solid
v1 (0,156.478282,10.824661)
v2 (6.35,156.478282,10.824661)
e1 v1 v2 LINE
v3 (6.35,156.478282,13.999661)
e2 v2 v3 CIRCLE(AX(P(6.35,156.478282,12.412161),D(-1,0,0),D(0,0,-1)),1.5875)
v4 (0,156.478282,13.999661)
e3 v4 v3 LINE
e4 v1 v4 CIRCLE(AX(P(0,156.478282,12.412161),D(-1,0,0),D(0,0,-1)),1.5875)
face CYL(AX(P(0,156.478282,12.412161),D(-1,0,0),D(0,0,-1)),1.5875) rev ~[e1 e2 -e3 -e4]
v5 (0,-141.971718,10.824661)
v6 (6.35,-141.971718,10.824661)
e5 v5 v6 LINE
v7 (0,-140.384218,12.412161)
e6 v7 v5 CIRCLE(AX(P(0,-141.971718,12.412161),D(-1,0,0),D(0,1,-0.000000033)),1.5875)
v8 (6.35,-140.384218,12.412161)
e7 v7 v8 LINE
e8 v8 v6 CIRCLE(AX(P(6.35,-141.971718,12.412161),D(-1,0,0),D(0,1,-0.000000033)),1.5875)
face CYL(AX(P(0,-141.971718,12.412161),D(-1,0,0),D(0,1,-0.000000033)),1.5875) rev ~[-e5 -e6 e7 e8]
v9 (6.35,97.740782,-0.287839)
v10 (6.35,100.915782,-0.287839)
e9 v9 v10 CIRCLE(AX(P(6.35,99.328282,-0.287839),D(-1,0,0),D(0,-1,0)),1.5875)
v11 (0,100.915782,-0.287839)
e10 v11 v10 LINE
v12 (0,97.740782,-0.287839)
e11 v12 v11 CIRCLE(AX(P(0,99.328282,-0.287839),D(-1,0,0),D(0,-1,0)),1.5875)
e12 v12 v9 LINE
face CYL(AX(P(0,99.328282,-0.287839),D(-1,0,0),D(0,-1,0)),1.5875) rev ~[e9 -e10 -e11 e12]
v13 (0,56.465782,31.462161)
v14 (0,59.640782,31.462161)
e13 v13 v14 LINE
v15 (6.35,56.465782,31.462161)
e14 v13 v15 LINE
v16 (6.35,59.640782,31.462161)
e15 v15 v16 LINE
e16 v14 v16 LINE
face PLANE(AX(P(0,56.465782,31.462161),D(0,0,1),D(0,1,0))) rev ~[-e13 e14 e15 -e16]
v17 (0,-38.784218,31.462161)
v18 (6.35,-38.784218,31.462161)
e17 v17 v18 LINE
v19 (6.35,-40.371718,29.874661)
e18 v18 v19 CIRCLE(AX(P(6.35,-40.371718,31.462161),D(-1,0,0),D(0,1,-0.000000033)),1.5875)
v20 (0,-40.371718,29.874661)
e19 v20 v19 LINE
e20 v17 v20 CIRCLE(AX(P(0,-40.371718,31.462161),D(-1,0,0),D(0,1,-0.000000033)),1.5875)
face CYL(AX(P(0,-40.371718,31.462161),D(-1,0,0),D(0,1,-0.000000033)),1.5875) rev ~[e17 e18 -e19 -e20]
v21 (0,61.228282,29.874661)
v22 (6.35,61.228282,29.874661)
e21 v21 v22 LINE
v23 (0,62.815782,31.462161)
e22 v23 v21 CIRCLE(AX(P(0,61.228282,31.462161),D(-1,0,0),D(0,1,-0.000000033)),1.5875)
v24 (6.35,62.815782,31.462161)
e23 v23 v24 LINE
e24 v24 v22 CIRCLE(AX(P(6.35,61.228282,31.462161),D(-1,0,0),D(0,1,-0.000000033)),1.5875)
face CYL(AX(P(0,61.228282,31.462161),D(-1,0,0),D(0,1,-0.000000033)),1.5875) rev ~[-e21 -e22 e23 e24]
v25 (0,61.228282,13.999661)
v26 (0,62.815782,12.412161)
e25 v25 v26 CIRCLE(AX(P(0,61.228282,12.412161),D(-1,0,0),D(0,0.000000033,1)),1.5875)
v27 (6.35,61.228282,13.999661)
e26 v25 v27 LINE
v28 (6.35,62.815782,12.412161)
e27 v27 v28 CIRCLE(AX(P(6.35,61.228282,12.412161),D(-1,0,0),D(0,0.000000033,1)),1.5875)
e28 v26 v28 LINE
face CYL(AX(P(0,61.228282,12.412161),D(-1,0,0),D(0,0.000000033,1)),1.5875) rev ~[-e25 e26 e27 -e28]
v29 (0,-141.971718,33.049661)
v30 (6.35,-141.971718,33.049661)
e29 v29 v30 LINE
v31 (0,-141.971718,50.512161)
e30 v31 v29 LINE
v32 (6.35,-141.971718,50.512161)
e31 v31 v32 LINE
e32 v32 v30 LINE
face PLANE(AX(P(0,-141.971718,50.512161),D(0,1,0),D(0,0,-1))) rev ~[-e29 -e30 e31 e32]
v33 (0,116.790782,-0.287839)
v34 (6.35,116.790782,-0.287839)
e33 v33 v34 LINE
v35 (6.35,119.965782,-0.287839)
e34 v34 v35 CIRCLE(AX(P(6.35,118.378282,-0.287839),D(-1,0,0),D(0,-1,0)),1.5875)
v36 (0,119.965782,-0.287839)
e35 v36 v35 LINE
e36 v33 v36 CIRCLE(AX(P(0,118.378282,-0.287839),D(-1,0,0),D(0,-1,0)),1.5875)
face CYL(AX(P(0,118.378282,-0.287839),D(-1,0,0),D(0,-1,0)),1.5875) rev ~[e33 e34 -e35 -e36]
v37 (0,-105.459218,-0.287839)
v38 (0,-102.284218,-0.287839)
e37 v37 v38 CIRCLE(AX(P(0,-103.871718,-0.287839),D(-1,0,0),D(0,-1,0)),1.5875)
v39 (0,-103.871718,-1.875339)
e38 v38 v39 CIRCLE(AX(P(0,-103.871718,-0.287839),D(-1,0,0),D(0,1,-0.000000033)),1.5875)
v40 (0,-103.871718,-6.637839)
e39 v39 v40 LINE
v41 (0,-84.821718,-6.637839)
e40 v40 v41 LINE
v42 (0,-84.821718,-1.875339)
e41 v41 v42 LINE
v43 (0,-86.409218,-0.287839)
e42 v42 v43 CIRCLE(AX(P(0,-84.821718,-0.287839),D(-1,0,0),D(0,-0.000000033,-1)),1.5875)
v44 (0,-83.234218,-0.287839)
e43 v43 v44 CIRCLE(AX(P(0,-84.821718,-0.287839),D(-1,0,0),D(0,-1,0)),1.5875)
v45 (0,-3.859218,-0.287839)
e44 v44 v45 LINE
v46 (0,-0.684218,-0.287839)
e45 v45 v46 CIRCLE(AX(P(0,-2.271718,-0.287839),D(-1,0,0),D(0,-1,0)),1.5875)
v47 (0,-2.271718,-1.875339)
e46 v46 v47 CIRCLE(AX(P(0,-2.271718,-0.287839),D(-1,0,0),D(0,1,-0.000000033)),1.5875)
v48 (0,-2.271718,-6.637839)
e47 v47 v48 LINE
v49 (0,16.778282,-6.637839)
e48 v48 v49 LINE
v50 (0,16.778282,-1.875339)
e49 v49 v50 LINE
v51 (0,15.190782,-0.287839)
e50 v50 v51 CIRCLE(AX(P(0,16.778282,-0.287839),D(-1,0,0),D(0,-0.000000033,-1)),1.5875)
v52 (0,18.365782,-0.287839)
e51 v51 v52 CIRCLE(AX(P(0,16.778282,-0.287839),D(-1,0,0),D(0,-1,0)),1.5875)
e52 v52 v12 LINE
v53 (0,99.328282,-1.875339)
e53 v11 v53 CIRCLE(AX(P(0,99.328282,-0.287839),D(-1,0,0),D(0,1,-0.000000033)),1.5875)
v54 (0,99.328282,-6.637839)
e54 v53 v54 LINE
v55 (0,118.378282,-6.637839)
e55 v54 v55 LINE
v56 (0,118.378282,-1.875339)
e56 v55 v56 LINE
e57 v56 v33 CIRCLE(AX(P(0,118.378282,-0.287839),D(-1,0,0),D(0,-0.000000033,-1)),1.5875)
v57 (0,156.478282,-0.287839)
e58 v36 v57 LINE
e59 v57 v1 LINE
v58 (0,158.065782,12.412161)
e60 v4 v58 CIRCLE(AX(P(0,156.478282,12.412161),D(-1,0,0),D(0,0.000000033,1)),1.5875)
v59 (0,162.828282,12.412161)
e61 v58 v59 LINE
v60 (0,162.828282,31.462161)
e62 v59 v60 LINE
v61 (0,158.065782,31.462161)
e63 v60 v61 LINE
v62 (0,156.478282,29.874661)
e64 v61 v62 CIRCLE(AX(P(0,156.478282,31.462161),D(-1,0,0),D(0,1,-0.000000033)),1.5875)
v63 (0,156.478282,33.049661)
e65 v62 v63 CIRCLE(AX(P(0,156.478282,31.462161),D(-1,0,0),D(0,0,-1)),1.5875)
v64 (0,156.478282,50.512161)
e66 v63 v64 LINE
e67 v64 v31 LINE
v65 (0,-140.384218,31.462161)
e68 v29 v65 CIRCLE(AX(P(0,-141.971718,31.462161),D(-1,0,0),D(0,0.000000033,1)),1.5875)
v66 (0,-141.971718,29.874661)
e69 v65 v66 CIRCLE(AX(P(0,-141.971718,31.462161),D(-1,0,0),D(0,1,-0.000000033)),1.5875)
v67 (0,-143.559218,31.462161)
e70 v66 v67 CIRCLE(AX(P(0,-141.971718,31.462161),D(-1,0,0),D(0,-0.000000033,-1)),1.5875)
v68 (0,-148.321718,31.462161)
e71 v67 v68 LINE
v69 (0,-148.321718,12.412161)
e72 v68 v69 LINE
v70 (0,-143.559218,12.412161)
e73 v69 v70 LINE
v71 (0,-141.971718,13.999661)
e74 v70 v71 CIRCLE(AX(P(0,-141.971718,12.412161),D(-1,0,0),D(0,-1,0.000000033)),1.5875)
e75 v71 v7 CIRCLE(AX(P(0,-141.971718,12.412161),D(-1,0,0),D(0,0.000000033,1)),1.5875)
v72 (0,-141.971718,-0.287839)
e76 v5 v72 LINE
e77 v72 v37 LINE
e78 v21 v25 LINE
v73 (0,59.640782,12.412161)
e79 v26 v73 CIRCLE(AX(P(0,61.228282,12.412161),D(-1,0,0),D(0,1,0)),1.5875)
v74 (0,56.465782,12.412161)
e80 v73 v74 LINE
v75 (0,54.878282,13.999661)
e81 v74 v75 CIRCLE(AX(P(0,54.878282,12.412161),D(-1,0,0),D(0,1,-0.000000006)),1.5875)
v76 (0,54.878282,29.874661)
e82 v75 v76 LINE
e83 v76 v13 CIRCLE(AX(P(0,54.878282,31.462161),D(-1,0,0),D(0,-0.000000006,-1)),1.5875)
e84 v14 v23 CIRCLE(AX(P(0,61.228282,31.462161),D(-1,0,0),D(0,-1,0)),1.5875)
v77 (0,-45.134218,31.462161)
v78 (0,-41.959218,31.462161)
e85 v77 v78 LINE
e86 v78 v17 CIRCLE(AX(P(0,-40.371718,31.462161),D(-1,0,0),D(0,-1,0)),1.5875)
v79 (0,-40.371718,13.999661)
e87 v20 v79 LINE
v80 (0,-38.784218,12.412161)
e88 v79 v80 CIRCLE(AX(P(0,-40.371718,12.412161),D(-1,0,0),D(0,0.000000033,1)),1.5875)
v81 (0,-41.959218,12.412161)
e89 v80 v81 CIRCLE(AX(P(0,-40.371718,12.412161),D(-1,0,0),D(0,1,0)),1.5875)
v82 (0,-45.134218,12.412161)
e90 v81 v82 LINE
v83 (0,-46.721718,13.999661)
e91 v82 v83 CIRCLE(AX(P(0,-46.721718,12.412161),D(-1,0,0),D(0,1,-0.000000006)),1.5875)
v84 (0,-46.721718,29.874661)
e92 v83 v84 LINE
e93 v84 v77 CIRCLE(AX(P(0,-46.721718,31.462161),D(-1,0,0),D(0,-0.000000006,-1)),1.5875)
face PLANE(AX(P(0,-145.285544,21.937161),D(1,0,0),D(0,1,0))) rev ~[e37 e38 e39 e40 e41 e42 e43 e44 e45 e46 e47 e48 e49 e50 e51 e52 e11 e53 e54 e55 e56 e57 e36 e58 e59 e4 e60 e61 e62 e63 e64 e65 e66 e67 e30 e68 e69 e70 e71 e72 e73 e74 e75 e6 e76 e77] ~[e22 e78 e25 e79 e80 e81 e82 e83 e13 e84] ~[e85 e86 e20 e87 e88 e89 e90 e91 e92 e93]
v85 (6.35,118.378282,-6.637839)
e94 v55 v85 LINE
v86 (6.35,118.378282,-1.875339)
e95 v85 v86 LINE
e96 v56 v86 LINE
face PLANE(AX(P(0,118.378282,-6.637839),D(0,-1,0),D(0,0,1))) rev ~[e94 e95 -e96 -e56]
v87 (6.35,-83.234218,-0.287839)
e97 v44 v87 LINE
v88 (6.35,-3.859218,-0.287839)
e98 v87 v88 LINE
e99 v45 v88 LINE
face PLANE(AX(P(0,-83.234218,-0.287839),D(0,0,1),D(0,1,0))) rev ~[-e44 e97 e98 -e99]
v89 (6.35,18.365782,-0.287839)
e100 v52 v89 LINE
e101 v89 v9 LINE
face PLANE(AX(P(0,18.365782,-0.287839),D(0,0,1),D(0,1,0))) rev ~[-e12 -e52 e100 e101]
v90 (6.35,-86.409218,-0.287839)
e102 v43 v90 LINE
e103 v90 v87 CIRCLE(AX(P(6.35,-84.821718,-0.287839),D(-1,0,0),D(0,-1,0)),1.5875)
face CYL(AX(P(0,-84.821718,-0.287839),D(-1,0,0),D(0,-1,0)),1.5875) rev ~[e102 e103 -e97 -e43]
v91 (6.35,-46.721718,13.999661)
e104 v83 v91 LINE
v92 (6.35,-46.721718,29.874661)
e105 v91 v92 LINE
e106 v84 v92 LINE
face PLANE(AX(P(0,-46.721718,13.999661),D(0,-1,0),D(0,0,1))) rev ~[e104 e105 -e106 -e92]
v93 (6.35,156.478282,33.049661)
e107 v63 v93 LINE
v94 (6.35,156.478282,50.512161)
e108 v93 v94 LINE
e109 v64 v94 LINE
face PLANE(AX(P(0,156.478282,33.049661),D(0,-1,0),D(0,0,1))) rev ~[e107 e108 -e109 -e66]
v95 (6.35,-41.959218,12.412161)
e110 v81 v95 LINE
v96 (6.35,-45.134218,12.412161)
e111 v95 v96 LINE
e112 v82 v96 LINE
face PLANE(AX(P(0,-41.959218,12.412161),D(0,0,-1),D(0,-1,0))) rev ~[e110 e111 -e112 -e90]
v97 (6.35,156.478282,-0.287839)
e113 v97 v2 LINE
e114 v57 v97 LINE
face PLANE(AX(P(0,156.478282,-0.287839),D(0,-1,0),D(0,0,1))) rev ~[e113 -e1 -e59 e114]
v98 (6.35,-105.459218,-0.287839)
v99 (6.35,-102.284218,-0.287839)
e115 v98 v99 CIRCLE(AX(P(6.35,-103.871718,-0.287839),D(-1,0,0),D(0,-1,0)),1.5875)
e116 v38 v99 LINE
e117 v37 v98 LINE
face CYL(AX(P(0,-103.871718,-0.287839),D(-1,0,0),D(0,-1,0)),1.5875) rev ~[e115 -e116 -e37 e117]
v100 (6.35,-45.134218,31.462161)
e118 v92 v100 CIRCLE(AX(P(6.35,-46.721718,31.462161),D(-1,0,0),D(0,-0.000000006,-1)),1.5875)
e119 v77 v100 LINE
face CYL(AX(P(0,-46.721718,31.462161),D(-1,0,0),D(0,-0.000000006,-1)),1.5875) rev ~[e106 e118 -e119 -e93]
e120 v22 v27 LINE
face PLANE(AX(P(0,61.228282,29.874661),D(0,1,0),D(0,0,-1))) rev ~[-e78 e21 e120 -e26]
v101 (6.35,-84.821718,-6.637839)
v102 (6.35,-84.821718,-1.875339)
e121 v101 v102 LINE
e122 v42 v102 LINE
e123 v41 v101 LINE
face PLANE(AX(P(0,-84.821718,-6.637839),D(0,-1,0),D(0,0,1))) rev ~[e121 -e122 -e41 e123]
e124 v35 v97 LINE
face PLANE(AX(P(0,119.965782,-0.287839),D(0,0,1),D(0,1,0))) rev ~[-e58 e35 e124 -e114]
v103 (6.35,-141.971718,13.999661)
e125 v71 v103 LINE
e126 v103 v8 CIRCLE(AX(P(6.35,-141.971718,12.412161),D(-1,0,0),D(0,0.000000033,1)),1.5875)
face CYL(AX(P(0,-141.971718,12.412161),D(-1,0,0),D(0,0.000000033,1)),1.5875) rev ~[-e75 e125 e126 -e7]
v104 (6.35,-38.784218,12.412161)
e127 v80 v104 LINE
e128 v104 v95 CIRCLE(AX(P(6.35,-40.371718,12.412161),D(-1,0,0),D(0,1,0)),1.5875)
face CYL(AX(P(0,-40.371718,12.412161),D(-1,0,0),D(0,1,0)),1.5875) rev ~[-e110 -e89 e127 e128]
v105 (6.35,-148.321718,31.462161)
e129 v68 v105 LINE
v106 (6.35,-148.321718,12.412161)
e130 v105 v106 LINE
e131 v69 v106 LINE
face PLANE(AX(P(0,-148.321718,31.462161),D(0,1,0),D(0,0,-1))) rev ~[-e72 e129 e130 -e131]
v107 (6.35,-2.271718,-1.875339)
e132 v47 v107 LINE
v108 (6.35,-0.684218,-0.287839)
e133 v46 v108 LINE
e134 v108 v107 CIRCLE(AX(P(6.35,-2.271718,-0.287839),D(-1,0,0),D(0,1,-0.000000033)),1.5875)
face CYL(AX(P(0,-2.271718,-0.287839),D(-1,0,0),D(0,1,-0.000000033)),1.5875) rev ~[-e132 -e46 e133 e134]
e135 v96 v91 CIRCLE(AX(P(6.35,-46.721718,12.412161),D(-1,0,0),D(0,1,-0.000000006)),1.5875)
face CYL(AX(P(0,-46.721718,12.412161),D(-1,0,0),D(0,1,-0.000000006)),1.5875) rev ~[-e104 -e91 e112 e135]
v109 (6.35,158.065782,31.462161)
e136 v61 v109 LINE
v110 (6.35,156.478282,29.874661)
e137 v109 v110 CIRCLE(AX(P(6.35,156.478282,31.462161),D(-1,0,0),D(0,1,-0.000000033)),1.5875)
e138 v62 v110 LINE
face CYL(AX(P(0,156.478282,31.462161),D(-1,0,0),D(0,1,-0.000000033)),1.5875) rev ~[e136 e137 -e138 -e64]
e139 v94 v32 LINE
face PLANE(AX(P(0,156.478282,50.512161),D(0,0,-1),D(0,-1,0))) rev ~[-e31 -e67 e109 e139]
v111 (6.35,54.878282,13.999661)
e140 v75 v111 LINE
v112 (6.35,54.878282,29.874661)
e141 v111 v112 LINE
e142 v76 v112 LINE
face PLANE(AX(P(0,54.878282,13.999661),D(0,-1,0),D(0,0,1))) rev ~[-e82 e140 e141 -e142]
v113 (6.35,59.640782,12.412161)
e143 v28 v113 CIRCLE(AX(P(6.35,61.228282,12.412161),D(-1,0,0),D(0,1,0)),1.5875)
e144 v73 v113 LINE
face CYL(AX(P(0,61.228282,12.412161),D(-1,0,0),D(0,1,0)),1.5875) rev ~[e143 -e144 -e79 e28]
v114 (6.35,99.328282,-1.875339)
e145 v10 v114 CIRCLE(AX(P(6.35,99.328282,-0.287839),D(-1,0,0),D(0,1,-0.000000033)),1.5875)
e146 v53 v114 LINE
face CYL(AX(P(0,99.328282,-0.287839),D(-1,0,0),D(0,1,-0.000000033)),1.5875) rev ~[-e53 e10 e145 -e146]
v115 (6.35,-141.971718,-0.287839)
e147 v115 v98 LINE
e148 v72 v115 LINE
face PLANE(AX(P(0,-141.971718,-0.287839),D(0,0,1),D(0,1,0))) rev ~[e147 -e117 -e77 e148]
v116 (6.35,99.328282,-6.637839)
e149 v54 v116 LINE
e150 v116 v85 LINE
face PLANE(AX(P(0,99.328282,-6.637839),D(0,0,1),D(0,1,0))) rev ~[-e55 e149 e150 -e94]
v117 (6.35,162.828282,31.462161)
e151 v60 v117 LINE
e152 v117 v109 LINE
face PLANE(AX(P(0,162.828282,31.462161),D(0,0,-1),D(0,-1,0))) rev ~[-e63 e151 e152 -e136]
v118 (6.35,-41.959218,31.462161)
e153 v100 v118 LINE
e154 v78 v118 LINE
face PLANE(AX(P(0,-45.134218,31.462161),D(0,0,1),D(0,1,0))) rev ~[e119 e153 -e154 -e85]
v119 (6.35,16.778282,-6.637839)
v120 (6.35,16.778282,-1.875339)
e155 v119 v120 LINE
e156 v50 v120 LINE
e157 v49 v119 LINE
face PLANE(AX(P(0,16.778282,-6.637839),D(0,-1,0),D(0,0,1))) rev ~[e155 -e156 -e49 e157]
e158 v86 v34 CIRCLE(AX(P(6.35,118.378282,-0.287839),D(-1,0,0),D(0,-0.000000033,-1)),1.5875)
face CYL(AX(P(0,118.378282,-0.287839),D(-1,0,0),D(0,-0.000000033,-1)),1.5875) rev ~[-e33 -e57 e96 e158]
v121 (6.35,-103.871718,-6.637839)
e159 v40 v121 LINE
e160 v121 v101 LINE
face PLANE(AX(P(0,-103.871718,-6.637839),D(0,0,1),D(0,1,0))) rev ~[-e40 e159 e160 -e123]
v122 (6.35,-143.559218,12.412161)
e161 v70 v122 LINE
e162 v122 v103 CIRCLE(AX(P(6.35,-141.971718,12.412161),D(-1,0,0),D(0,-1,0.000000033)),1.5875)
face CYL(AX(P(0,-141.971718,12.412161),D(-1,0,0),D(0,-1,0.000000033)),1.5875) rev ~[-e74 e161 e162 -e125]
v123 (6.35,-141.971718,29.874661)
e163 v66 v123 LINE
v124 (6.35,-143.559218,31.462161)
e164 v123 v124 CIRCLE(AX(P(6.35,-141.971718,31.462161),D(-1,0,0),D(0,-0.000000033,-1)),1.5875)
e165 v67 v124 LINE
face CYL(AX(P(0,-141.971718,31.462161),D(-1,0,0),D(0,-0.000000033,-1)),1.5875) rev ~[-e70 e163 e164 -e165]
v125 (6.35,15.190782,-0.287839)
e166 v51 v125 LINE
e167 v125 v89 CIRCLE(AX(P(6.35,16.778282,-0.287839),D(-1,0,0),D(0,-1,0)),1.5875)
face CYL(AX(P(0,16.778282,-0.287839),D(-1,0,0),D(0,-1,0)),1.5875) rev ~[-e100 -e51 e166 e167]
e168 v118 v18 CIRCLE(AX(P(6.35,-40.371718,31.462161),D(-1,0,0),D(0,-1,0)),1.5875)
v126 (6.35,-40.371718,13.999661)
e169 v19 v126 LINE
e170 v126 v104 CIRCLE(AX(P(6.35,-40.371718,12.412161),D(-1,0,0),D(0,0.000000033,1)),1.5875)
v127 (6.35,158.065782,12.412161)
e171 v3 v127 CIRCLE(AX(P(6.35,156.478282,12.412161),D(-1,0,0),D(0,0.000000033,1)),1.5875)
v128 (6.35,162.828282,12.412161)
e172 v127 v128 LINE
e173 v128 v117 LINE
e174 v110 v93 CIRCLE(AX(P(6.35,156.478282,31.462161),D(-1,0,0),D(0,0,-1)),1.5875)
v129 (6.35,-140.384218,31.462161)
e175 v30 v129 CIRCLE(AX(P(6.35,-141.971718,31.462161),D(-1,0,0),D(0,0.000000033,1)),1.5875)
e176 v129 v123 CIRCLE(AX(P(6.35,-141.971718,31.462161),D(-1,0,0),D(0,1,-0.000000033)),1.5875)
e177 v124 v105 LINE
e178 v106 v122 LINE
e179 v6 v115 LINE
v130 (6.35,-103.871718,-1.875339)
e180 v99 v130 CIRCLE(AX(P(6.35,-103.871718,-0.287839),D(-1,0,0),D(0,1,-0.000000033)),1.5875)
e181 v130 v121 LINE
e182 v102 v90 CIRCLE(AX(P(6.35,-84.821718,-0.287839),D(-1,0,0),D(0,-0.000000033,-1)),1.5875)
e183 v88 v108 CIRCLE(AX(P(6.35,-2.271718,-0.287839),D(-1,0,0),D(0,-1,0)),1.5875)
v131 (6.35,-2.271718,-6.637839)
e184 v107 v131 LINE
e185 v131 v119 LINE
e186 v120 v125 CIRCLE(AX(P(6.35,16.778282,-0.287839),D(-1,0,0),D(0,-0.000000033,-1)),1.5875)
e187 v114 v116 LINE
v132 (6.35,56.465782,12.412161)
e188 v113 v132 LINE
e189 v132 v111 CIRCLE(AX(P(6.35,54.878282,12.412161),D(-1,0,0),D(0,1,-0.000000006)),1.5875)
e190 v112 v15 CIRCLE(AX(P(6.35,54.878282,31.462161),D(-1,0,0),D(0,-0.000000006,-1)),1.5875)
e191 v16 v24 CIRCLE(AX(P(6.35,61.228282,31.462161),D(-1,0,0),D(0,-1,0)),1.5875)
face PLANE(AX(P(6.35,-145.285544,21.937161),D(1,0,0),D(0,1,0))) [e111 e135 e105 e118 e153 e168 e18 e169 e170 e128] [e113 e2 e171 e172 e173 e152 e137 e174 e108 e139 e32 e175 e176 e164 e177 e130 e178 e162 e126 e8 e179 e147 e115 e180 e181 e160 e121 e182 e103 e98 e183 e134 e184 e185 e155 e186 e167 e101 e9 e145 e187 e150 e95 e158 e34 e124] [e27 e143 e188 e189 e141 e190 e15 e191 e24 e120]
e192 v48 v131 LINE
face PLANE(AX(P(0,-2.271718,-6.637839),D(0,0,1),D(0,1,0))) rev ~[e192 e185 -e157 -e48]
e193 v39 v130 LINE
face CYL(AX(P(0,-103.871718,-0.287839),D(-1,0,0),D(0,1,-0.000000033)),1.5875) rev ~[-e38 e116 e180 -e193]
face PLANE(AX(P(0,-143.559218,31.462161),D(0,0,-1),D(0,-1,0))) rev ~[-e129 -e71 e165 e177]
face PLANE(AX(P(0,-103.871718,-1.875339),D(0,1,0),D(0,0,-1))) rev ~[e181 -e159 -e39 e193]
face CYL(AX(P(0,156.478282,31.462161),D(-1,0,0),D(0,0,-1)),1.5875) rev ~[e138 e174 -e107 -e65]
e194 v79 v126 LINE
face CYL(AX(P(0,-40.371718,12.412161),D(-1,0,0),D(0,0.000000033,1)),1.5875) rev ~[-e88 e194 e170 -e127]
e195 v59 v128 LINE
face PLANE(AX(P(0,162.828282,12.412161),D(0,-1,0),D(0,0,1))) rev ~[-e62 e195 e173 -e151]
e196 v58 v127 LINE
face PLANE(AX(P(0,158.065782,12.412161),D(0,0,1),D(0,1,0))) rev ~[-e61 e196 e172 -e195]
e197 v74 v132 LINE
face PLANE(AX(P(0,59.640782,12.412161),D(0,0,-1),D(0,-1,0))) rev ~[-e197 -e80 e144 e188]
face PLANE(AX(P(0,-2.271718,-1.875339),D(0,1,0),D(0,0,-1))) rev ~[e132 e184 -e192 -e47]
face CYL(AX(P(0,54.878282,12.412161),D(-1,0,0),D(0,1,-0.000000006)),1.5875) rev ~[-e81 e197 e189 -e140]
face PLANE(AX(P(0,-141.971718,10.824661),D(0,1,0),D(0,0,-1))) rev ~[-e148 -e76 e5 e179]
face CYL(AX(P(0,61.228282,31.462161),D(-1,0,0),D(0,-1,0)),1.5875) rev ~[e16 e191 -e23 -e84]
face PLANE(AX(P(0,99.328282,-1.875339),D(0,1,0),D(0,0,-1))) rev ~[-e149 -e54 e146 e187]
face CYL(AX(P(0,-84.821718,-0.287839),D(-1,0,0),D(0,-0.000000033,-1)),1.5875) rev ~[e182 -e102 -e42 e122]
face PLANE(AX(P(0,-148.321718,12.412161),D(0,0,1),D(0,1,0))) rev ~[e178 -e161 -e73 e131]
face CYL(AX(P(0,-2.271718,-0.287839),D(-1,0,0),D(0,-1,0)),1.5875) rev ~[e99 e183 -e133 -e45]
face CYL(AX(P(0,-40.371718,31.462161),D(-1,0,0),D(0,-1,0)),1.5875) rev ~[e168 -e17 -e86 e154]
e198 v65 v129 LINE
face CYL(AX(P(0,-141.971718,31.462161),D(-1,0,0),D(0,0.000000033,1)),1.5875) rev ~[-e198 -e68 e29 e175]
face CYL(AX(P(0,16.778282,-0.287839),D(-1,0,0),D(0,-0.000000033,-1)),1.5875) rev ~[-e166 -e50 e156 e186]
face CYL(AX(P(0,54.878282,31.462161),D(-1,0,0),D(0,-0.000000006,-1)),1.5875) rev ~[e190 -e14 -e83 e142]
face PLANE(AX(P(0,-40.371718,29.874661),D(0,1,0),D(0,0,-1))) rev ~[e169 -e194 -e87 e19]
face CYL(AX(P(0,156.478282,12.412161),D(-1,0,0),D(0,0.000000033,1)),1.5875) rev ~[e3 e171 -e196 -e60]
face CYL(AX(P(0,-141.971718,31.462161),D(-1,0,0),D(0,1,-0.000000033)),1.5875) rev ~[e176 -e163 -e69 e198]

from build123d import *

# Parameters (mm, degrees)
F1_DEPTH = 6.35


with BuildPart() as f1:
    # F0 (on Right) → F1 (new body)
    with BuildSketch(Plane.YZ):
        with BuildLine():
            ThreePointArc((-141.971718, 29.874661), (-143.09425, 30.339629), (-143.559218, 31.462161))
            Line((-143.559218, 31.462161), (-148.321718, 31.462161))
            Line((-148.321718, 31.462161), (-148.321718, 12.412161))
            Line((-148.321718, 12.412161), (-143.559218, 12.412161))
            ThreePointArc((-143.559218, 12.412161), (-143.09425, 13.534693), (-141.971718, 13.999661))
            Line((-141.971718, 13.999661), (-141.971718, 29.874661))
        make_face()
        with BuildLine():
            Line((156.478282, 50.512161), (-141.971718, 50.512161))
            Line((-141.971718, 50.512161), (-141.971718, 33.049661))
            ThreePointArc((-141.971718, 33.049661), (-140.849186, 32.584693), (-140.384218, 31.462161))
            ThreePointArc((-140.384218, 31.462161), (-140.849186, 30.339629), (-141.971718, 29.874661))
            Line((-141.971718, 29.874661), (-141.971718, 13.999661))
            ThreePointArc((-141.971718, 13.999661), (-140.849186, 13.534693), (-140.384218, 12.412161))
            ThreePointArc((-140.384218, 12.412161), (-140.849186, 11.289629), (-141.971718, 10.824661))
            Line((-141.971718, 10.824661), (-141.971718, -0.287839))
            Line((-141.971718, -0.287839), (-105.459218, -0.287839))
            ThreePointArc((-105.459218, -0.287839), (-103.871718, 1.299661), (-102.284218, -0.287839))
            Line((-102.284218, -0.287839), (-86.409218, -0.287839))
            ThreePointArc((-86.409218, -0.287839), (-84.821718, 1.299661), (-83.234218, -0.287839))
            Line((-83.234218, -0.287839), (-3.859218, -0.287839))
            ThreePointArc((-3.859218, -0.287839), (-2.271718, 1.299661), (-0.684218, -0.287839))
            Line((-0.684218, -0.287839), (15.190782, -0.287839))
            ThreePointArc((15.190782, -0.287839), (16.778282, 1.299661), (18.365782, -0.287839))
            Line((18.365782, -0.287839), (97.740782, -0.287839))
            ThreePointArc((97.740782, -0.287839), (99.328282, 1.299661), (100.915782, -0.287839))
            Line((100.915782, -0.287839), (116.790782, -0.287839))
            ThreePointArc((116.790782, -0.287839), (118.378282, 1.299661), (119.965782, -0.287839))
            Line((119.965782, -0.287839), (156.478282, -0.287839))
            Line((156.478282, -0.287839), (156.478282, 10.824661))
            ThreePointArc((156.478282, 10.824661), (154.890782, 12.412161), (156.478282, 13.999661))
            Line((156.478282, 13.999661), (156.478282, 29.874661))
            ThreePointArc((156.478282, 29.874661), (154.890782, 31.462161), (156.478282, 33.049661))
            Line((156.478282, 33.049661), (156.478282, 50.512161))
        make_face()
        with BuildLine():
            ThreePointArc((-46.721718, 29.874661), (-47.84425, 32.584693), (-45.134218, 31.462161))
            Line((-45.134218, 31.462161), (-41.959218, 31.462161))
            ThreePointArc((-41.959218, 31.462161), (-40.371718, 33.049661), (-38.784218, 31.462161))
            ThreePointArc((-38.784218, 31.462161), (-39.249186, 30.339629), (-40.371718, 29.874661))
            Line((-40.371718, 29.874661), (-40.371718, 13.999661))
            ThreePointArc((-40.371718, 13.999661), (-39.249186, 13.534693), (-38.784218, 12.412161))
            ThreePointArc((-38.784218, 12.412161), (-40.371718, 10.824661), (-41.959218, 12.412161))
            Line((-41.959218, 12.412161), (-45.134218, 12.412161))
            ThreePointArc((-45.134218, 12.412161), (-47.84425, 11.289629), (-46.721718, 13.999661))
            Line((-46.721718, 13.999661), (-46.721718, 29.874661))
        make_face(mode=Mode.SUBTRACT)
        with BuildLine():
            ThreePointArc((54.878282, 29.874661), (53.75575, 32.584693), (56.465782, 31.462161))
            Line((56.465782, 31.462161), (59.640782, 31.462161))
            ThreePointArc((59.640782, 31.462161), (61.228282, 33.049661), (62.815782, 31.462161))
            ThreePointArc((62.815782, 31.462161), (62.350814, 30.339629), (61.228282, 29.874661))
            Line((61.228282, 29.874661), (61.228282, 13.999661))
            ThreePointArc((61.228282, 13.999661), (62.350814, 13.534693), (62.815782, 12.412161))
            ThreePointArc((62.815782, 12.412161), (61.228282, 10.824661), (59.640782, 12.412161))
            Line((59.640782, 12.412161), (56.465782, 12.412161))
            ThreePointArc((56.465782, 12.412161), (53.75575, 11.289629), (54.878282, 13.999661))
            Line((54.878282, 13.999661), (54.878282, 29.874661))
        make_face(mode=Mode.SUBTRACT)
        with BuildLine():
            Line((-86.409218, -0.287839), (-102.284218, -0.287839))
            ThreePointArc((-102.284218, -0.287839), (-102.749186, -1.410371), (-103.871718, -1.875339))
            Line((-103.871718, -1.875339), (-103.871718, -6.637839))
            Line((-103.871718, -6.637839), (-84.821718, -6.637839))
            Line((-84.821718, -6.637839), (-84.821718, -1.875339))
            ThreePointArc((-84.821718, -1.875339), (-85.94425, -1.410371), (-86.409218, -0.287839))
        make_face()
        with BuildLine():
            ThreePointArc((16.778282, -1.875339), (15.65575, -1.410371), (15.190782, -0.287839))
            Line((15.190782, -0.287839), (-0.684218, -0.287839))
            ThreePointArc((-0.684218, -0.287839), (-1.149186, -1.410371), (-2.271718, -1.875339))
            Line((-2.271718, -1.875339), (-2.271718, -6.637839))
            Line((-2.271718, -6.637839), (16.778282, -6.637839))
            Line((16.778282, -6.637839), (16.778282, -1.875339))
        make_face()
        with BuildLine():
            ThreePointArc((118.378282, -1.875339), (117.25575, -1.410371), (116.790782, -0.287839))
            Line((116.790782, -0.287839), (100.915782, -0.287839))
            ThreePointArc((100.915782, -0.287839), (100.450814, -1.410371), (99.328282, -1.875339))
            Line((99.328282, -1.875339), (99.328282, -6.637839))
            Line((99.328282, -6.637839), (118.378282, -6.637839))
            Line((118.378282, -6.637839), (118.378282, -1.875339))
        make_face()
        with BuildLine():
            Line((162.828282, 31.462161), (158.065782, 31.462161))
            ThreePointArc((158.065782, 31.462161), (157.600814, 30.339629), (156.478282, 29.874661))
            Line((156.478282, 29.874661), (156.478282, 13.999661))
            ThreePointArc((156.478282, 13.999661), (157.600814, 13.534693), (158.065782, 12.412161))
            Line((158.065782, 12.412161), (162.828282, 12.412161))
            Line((162.828282, 12.412161), (162.828282, 31.462161))
        make_face()
    extrude(amount=F1_DEPTH)


solid = f1.part
